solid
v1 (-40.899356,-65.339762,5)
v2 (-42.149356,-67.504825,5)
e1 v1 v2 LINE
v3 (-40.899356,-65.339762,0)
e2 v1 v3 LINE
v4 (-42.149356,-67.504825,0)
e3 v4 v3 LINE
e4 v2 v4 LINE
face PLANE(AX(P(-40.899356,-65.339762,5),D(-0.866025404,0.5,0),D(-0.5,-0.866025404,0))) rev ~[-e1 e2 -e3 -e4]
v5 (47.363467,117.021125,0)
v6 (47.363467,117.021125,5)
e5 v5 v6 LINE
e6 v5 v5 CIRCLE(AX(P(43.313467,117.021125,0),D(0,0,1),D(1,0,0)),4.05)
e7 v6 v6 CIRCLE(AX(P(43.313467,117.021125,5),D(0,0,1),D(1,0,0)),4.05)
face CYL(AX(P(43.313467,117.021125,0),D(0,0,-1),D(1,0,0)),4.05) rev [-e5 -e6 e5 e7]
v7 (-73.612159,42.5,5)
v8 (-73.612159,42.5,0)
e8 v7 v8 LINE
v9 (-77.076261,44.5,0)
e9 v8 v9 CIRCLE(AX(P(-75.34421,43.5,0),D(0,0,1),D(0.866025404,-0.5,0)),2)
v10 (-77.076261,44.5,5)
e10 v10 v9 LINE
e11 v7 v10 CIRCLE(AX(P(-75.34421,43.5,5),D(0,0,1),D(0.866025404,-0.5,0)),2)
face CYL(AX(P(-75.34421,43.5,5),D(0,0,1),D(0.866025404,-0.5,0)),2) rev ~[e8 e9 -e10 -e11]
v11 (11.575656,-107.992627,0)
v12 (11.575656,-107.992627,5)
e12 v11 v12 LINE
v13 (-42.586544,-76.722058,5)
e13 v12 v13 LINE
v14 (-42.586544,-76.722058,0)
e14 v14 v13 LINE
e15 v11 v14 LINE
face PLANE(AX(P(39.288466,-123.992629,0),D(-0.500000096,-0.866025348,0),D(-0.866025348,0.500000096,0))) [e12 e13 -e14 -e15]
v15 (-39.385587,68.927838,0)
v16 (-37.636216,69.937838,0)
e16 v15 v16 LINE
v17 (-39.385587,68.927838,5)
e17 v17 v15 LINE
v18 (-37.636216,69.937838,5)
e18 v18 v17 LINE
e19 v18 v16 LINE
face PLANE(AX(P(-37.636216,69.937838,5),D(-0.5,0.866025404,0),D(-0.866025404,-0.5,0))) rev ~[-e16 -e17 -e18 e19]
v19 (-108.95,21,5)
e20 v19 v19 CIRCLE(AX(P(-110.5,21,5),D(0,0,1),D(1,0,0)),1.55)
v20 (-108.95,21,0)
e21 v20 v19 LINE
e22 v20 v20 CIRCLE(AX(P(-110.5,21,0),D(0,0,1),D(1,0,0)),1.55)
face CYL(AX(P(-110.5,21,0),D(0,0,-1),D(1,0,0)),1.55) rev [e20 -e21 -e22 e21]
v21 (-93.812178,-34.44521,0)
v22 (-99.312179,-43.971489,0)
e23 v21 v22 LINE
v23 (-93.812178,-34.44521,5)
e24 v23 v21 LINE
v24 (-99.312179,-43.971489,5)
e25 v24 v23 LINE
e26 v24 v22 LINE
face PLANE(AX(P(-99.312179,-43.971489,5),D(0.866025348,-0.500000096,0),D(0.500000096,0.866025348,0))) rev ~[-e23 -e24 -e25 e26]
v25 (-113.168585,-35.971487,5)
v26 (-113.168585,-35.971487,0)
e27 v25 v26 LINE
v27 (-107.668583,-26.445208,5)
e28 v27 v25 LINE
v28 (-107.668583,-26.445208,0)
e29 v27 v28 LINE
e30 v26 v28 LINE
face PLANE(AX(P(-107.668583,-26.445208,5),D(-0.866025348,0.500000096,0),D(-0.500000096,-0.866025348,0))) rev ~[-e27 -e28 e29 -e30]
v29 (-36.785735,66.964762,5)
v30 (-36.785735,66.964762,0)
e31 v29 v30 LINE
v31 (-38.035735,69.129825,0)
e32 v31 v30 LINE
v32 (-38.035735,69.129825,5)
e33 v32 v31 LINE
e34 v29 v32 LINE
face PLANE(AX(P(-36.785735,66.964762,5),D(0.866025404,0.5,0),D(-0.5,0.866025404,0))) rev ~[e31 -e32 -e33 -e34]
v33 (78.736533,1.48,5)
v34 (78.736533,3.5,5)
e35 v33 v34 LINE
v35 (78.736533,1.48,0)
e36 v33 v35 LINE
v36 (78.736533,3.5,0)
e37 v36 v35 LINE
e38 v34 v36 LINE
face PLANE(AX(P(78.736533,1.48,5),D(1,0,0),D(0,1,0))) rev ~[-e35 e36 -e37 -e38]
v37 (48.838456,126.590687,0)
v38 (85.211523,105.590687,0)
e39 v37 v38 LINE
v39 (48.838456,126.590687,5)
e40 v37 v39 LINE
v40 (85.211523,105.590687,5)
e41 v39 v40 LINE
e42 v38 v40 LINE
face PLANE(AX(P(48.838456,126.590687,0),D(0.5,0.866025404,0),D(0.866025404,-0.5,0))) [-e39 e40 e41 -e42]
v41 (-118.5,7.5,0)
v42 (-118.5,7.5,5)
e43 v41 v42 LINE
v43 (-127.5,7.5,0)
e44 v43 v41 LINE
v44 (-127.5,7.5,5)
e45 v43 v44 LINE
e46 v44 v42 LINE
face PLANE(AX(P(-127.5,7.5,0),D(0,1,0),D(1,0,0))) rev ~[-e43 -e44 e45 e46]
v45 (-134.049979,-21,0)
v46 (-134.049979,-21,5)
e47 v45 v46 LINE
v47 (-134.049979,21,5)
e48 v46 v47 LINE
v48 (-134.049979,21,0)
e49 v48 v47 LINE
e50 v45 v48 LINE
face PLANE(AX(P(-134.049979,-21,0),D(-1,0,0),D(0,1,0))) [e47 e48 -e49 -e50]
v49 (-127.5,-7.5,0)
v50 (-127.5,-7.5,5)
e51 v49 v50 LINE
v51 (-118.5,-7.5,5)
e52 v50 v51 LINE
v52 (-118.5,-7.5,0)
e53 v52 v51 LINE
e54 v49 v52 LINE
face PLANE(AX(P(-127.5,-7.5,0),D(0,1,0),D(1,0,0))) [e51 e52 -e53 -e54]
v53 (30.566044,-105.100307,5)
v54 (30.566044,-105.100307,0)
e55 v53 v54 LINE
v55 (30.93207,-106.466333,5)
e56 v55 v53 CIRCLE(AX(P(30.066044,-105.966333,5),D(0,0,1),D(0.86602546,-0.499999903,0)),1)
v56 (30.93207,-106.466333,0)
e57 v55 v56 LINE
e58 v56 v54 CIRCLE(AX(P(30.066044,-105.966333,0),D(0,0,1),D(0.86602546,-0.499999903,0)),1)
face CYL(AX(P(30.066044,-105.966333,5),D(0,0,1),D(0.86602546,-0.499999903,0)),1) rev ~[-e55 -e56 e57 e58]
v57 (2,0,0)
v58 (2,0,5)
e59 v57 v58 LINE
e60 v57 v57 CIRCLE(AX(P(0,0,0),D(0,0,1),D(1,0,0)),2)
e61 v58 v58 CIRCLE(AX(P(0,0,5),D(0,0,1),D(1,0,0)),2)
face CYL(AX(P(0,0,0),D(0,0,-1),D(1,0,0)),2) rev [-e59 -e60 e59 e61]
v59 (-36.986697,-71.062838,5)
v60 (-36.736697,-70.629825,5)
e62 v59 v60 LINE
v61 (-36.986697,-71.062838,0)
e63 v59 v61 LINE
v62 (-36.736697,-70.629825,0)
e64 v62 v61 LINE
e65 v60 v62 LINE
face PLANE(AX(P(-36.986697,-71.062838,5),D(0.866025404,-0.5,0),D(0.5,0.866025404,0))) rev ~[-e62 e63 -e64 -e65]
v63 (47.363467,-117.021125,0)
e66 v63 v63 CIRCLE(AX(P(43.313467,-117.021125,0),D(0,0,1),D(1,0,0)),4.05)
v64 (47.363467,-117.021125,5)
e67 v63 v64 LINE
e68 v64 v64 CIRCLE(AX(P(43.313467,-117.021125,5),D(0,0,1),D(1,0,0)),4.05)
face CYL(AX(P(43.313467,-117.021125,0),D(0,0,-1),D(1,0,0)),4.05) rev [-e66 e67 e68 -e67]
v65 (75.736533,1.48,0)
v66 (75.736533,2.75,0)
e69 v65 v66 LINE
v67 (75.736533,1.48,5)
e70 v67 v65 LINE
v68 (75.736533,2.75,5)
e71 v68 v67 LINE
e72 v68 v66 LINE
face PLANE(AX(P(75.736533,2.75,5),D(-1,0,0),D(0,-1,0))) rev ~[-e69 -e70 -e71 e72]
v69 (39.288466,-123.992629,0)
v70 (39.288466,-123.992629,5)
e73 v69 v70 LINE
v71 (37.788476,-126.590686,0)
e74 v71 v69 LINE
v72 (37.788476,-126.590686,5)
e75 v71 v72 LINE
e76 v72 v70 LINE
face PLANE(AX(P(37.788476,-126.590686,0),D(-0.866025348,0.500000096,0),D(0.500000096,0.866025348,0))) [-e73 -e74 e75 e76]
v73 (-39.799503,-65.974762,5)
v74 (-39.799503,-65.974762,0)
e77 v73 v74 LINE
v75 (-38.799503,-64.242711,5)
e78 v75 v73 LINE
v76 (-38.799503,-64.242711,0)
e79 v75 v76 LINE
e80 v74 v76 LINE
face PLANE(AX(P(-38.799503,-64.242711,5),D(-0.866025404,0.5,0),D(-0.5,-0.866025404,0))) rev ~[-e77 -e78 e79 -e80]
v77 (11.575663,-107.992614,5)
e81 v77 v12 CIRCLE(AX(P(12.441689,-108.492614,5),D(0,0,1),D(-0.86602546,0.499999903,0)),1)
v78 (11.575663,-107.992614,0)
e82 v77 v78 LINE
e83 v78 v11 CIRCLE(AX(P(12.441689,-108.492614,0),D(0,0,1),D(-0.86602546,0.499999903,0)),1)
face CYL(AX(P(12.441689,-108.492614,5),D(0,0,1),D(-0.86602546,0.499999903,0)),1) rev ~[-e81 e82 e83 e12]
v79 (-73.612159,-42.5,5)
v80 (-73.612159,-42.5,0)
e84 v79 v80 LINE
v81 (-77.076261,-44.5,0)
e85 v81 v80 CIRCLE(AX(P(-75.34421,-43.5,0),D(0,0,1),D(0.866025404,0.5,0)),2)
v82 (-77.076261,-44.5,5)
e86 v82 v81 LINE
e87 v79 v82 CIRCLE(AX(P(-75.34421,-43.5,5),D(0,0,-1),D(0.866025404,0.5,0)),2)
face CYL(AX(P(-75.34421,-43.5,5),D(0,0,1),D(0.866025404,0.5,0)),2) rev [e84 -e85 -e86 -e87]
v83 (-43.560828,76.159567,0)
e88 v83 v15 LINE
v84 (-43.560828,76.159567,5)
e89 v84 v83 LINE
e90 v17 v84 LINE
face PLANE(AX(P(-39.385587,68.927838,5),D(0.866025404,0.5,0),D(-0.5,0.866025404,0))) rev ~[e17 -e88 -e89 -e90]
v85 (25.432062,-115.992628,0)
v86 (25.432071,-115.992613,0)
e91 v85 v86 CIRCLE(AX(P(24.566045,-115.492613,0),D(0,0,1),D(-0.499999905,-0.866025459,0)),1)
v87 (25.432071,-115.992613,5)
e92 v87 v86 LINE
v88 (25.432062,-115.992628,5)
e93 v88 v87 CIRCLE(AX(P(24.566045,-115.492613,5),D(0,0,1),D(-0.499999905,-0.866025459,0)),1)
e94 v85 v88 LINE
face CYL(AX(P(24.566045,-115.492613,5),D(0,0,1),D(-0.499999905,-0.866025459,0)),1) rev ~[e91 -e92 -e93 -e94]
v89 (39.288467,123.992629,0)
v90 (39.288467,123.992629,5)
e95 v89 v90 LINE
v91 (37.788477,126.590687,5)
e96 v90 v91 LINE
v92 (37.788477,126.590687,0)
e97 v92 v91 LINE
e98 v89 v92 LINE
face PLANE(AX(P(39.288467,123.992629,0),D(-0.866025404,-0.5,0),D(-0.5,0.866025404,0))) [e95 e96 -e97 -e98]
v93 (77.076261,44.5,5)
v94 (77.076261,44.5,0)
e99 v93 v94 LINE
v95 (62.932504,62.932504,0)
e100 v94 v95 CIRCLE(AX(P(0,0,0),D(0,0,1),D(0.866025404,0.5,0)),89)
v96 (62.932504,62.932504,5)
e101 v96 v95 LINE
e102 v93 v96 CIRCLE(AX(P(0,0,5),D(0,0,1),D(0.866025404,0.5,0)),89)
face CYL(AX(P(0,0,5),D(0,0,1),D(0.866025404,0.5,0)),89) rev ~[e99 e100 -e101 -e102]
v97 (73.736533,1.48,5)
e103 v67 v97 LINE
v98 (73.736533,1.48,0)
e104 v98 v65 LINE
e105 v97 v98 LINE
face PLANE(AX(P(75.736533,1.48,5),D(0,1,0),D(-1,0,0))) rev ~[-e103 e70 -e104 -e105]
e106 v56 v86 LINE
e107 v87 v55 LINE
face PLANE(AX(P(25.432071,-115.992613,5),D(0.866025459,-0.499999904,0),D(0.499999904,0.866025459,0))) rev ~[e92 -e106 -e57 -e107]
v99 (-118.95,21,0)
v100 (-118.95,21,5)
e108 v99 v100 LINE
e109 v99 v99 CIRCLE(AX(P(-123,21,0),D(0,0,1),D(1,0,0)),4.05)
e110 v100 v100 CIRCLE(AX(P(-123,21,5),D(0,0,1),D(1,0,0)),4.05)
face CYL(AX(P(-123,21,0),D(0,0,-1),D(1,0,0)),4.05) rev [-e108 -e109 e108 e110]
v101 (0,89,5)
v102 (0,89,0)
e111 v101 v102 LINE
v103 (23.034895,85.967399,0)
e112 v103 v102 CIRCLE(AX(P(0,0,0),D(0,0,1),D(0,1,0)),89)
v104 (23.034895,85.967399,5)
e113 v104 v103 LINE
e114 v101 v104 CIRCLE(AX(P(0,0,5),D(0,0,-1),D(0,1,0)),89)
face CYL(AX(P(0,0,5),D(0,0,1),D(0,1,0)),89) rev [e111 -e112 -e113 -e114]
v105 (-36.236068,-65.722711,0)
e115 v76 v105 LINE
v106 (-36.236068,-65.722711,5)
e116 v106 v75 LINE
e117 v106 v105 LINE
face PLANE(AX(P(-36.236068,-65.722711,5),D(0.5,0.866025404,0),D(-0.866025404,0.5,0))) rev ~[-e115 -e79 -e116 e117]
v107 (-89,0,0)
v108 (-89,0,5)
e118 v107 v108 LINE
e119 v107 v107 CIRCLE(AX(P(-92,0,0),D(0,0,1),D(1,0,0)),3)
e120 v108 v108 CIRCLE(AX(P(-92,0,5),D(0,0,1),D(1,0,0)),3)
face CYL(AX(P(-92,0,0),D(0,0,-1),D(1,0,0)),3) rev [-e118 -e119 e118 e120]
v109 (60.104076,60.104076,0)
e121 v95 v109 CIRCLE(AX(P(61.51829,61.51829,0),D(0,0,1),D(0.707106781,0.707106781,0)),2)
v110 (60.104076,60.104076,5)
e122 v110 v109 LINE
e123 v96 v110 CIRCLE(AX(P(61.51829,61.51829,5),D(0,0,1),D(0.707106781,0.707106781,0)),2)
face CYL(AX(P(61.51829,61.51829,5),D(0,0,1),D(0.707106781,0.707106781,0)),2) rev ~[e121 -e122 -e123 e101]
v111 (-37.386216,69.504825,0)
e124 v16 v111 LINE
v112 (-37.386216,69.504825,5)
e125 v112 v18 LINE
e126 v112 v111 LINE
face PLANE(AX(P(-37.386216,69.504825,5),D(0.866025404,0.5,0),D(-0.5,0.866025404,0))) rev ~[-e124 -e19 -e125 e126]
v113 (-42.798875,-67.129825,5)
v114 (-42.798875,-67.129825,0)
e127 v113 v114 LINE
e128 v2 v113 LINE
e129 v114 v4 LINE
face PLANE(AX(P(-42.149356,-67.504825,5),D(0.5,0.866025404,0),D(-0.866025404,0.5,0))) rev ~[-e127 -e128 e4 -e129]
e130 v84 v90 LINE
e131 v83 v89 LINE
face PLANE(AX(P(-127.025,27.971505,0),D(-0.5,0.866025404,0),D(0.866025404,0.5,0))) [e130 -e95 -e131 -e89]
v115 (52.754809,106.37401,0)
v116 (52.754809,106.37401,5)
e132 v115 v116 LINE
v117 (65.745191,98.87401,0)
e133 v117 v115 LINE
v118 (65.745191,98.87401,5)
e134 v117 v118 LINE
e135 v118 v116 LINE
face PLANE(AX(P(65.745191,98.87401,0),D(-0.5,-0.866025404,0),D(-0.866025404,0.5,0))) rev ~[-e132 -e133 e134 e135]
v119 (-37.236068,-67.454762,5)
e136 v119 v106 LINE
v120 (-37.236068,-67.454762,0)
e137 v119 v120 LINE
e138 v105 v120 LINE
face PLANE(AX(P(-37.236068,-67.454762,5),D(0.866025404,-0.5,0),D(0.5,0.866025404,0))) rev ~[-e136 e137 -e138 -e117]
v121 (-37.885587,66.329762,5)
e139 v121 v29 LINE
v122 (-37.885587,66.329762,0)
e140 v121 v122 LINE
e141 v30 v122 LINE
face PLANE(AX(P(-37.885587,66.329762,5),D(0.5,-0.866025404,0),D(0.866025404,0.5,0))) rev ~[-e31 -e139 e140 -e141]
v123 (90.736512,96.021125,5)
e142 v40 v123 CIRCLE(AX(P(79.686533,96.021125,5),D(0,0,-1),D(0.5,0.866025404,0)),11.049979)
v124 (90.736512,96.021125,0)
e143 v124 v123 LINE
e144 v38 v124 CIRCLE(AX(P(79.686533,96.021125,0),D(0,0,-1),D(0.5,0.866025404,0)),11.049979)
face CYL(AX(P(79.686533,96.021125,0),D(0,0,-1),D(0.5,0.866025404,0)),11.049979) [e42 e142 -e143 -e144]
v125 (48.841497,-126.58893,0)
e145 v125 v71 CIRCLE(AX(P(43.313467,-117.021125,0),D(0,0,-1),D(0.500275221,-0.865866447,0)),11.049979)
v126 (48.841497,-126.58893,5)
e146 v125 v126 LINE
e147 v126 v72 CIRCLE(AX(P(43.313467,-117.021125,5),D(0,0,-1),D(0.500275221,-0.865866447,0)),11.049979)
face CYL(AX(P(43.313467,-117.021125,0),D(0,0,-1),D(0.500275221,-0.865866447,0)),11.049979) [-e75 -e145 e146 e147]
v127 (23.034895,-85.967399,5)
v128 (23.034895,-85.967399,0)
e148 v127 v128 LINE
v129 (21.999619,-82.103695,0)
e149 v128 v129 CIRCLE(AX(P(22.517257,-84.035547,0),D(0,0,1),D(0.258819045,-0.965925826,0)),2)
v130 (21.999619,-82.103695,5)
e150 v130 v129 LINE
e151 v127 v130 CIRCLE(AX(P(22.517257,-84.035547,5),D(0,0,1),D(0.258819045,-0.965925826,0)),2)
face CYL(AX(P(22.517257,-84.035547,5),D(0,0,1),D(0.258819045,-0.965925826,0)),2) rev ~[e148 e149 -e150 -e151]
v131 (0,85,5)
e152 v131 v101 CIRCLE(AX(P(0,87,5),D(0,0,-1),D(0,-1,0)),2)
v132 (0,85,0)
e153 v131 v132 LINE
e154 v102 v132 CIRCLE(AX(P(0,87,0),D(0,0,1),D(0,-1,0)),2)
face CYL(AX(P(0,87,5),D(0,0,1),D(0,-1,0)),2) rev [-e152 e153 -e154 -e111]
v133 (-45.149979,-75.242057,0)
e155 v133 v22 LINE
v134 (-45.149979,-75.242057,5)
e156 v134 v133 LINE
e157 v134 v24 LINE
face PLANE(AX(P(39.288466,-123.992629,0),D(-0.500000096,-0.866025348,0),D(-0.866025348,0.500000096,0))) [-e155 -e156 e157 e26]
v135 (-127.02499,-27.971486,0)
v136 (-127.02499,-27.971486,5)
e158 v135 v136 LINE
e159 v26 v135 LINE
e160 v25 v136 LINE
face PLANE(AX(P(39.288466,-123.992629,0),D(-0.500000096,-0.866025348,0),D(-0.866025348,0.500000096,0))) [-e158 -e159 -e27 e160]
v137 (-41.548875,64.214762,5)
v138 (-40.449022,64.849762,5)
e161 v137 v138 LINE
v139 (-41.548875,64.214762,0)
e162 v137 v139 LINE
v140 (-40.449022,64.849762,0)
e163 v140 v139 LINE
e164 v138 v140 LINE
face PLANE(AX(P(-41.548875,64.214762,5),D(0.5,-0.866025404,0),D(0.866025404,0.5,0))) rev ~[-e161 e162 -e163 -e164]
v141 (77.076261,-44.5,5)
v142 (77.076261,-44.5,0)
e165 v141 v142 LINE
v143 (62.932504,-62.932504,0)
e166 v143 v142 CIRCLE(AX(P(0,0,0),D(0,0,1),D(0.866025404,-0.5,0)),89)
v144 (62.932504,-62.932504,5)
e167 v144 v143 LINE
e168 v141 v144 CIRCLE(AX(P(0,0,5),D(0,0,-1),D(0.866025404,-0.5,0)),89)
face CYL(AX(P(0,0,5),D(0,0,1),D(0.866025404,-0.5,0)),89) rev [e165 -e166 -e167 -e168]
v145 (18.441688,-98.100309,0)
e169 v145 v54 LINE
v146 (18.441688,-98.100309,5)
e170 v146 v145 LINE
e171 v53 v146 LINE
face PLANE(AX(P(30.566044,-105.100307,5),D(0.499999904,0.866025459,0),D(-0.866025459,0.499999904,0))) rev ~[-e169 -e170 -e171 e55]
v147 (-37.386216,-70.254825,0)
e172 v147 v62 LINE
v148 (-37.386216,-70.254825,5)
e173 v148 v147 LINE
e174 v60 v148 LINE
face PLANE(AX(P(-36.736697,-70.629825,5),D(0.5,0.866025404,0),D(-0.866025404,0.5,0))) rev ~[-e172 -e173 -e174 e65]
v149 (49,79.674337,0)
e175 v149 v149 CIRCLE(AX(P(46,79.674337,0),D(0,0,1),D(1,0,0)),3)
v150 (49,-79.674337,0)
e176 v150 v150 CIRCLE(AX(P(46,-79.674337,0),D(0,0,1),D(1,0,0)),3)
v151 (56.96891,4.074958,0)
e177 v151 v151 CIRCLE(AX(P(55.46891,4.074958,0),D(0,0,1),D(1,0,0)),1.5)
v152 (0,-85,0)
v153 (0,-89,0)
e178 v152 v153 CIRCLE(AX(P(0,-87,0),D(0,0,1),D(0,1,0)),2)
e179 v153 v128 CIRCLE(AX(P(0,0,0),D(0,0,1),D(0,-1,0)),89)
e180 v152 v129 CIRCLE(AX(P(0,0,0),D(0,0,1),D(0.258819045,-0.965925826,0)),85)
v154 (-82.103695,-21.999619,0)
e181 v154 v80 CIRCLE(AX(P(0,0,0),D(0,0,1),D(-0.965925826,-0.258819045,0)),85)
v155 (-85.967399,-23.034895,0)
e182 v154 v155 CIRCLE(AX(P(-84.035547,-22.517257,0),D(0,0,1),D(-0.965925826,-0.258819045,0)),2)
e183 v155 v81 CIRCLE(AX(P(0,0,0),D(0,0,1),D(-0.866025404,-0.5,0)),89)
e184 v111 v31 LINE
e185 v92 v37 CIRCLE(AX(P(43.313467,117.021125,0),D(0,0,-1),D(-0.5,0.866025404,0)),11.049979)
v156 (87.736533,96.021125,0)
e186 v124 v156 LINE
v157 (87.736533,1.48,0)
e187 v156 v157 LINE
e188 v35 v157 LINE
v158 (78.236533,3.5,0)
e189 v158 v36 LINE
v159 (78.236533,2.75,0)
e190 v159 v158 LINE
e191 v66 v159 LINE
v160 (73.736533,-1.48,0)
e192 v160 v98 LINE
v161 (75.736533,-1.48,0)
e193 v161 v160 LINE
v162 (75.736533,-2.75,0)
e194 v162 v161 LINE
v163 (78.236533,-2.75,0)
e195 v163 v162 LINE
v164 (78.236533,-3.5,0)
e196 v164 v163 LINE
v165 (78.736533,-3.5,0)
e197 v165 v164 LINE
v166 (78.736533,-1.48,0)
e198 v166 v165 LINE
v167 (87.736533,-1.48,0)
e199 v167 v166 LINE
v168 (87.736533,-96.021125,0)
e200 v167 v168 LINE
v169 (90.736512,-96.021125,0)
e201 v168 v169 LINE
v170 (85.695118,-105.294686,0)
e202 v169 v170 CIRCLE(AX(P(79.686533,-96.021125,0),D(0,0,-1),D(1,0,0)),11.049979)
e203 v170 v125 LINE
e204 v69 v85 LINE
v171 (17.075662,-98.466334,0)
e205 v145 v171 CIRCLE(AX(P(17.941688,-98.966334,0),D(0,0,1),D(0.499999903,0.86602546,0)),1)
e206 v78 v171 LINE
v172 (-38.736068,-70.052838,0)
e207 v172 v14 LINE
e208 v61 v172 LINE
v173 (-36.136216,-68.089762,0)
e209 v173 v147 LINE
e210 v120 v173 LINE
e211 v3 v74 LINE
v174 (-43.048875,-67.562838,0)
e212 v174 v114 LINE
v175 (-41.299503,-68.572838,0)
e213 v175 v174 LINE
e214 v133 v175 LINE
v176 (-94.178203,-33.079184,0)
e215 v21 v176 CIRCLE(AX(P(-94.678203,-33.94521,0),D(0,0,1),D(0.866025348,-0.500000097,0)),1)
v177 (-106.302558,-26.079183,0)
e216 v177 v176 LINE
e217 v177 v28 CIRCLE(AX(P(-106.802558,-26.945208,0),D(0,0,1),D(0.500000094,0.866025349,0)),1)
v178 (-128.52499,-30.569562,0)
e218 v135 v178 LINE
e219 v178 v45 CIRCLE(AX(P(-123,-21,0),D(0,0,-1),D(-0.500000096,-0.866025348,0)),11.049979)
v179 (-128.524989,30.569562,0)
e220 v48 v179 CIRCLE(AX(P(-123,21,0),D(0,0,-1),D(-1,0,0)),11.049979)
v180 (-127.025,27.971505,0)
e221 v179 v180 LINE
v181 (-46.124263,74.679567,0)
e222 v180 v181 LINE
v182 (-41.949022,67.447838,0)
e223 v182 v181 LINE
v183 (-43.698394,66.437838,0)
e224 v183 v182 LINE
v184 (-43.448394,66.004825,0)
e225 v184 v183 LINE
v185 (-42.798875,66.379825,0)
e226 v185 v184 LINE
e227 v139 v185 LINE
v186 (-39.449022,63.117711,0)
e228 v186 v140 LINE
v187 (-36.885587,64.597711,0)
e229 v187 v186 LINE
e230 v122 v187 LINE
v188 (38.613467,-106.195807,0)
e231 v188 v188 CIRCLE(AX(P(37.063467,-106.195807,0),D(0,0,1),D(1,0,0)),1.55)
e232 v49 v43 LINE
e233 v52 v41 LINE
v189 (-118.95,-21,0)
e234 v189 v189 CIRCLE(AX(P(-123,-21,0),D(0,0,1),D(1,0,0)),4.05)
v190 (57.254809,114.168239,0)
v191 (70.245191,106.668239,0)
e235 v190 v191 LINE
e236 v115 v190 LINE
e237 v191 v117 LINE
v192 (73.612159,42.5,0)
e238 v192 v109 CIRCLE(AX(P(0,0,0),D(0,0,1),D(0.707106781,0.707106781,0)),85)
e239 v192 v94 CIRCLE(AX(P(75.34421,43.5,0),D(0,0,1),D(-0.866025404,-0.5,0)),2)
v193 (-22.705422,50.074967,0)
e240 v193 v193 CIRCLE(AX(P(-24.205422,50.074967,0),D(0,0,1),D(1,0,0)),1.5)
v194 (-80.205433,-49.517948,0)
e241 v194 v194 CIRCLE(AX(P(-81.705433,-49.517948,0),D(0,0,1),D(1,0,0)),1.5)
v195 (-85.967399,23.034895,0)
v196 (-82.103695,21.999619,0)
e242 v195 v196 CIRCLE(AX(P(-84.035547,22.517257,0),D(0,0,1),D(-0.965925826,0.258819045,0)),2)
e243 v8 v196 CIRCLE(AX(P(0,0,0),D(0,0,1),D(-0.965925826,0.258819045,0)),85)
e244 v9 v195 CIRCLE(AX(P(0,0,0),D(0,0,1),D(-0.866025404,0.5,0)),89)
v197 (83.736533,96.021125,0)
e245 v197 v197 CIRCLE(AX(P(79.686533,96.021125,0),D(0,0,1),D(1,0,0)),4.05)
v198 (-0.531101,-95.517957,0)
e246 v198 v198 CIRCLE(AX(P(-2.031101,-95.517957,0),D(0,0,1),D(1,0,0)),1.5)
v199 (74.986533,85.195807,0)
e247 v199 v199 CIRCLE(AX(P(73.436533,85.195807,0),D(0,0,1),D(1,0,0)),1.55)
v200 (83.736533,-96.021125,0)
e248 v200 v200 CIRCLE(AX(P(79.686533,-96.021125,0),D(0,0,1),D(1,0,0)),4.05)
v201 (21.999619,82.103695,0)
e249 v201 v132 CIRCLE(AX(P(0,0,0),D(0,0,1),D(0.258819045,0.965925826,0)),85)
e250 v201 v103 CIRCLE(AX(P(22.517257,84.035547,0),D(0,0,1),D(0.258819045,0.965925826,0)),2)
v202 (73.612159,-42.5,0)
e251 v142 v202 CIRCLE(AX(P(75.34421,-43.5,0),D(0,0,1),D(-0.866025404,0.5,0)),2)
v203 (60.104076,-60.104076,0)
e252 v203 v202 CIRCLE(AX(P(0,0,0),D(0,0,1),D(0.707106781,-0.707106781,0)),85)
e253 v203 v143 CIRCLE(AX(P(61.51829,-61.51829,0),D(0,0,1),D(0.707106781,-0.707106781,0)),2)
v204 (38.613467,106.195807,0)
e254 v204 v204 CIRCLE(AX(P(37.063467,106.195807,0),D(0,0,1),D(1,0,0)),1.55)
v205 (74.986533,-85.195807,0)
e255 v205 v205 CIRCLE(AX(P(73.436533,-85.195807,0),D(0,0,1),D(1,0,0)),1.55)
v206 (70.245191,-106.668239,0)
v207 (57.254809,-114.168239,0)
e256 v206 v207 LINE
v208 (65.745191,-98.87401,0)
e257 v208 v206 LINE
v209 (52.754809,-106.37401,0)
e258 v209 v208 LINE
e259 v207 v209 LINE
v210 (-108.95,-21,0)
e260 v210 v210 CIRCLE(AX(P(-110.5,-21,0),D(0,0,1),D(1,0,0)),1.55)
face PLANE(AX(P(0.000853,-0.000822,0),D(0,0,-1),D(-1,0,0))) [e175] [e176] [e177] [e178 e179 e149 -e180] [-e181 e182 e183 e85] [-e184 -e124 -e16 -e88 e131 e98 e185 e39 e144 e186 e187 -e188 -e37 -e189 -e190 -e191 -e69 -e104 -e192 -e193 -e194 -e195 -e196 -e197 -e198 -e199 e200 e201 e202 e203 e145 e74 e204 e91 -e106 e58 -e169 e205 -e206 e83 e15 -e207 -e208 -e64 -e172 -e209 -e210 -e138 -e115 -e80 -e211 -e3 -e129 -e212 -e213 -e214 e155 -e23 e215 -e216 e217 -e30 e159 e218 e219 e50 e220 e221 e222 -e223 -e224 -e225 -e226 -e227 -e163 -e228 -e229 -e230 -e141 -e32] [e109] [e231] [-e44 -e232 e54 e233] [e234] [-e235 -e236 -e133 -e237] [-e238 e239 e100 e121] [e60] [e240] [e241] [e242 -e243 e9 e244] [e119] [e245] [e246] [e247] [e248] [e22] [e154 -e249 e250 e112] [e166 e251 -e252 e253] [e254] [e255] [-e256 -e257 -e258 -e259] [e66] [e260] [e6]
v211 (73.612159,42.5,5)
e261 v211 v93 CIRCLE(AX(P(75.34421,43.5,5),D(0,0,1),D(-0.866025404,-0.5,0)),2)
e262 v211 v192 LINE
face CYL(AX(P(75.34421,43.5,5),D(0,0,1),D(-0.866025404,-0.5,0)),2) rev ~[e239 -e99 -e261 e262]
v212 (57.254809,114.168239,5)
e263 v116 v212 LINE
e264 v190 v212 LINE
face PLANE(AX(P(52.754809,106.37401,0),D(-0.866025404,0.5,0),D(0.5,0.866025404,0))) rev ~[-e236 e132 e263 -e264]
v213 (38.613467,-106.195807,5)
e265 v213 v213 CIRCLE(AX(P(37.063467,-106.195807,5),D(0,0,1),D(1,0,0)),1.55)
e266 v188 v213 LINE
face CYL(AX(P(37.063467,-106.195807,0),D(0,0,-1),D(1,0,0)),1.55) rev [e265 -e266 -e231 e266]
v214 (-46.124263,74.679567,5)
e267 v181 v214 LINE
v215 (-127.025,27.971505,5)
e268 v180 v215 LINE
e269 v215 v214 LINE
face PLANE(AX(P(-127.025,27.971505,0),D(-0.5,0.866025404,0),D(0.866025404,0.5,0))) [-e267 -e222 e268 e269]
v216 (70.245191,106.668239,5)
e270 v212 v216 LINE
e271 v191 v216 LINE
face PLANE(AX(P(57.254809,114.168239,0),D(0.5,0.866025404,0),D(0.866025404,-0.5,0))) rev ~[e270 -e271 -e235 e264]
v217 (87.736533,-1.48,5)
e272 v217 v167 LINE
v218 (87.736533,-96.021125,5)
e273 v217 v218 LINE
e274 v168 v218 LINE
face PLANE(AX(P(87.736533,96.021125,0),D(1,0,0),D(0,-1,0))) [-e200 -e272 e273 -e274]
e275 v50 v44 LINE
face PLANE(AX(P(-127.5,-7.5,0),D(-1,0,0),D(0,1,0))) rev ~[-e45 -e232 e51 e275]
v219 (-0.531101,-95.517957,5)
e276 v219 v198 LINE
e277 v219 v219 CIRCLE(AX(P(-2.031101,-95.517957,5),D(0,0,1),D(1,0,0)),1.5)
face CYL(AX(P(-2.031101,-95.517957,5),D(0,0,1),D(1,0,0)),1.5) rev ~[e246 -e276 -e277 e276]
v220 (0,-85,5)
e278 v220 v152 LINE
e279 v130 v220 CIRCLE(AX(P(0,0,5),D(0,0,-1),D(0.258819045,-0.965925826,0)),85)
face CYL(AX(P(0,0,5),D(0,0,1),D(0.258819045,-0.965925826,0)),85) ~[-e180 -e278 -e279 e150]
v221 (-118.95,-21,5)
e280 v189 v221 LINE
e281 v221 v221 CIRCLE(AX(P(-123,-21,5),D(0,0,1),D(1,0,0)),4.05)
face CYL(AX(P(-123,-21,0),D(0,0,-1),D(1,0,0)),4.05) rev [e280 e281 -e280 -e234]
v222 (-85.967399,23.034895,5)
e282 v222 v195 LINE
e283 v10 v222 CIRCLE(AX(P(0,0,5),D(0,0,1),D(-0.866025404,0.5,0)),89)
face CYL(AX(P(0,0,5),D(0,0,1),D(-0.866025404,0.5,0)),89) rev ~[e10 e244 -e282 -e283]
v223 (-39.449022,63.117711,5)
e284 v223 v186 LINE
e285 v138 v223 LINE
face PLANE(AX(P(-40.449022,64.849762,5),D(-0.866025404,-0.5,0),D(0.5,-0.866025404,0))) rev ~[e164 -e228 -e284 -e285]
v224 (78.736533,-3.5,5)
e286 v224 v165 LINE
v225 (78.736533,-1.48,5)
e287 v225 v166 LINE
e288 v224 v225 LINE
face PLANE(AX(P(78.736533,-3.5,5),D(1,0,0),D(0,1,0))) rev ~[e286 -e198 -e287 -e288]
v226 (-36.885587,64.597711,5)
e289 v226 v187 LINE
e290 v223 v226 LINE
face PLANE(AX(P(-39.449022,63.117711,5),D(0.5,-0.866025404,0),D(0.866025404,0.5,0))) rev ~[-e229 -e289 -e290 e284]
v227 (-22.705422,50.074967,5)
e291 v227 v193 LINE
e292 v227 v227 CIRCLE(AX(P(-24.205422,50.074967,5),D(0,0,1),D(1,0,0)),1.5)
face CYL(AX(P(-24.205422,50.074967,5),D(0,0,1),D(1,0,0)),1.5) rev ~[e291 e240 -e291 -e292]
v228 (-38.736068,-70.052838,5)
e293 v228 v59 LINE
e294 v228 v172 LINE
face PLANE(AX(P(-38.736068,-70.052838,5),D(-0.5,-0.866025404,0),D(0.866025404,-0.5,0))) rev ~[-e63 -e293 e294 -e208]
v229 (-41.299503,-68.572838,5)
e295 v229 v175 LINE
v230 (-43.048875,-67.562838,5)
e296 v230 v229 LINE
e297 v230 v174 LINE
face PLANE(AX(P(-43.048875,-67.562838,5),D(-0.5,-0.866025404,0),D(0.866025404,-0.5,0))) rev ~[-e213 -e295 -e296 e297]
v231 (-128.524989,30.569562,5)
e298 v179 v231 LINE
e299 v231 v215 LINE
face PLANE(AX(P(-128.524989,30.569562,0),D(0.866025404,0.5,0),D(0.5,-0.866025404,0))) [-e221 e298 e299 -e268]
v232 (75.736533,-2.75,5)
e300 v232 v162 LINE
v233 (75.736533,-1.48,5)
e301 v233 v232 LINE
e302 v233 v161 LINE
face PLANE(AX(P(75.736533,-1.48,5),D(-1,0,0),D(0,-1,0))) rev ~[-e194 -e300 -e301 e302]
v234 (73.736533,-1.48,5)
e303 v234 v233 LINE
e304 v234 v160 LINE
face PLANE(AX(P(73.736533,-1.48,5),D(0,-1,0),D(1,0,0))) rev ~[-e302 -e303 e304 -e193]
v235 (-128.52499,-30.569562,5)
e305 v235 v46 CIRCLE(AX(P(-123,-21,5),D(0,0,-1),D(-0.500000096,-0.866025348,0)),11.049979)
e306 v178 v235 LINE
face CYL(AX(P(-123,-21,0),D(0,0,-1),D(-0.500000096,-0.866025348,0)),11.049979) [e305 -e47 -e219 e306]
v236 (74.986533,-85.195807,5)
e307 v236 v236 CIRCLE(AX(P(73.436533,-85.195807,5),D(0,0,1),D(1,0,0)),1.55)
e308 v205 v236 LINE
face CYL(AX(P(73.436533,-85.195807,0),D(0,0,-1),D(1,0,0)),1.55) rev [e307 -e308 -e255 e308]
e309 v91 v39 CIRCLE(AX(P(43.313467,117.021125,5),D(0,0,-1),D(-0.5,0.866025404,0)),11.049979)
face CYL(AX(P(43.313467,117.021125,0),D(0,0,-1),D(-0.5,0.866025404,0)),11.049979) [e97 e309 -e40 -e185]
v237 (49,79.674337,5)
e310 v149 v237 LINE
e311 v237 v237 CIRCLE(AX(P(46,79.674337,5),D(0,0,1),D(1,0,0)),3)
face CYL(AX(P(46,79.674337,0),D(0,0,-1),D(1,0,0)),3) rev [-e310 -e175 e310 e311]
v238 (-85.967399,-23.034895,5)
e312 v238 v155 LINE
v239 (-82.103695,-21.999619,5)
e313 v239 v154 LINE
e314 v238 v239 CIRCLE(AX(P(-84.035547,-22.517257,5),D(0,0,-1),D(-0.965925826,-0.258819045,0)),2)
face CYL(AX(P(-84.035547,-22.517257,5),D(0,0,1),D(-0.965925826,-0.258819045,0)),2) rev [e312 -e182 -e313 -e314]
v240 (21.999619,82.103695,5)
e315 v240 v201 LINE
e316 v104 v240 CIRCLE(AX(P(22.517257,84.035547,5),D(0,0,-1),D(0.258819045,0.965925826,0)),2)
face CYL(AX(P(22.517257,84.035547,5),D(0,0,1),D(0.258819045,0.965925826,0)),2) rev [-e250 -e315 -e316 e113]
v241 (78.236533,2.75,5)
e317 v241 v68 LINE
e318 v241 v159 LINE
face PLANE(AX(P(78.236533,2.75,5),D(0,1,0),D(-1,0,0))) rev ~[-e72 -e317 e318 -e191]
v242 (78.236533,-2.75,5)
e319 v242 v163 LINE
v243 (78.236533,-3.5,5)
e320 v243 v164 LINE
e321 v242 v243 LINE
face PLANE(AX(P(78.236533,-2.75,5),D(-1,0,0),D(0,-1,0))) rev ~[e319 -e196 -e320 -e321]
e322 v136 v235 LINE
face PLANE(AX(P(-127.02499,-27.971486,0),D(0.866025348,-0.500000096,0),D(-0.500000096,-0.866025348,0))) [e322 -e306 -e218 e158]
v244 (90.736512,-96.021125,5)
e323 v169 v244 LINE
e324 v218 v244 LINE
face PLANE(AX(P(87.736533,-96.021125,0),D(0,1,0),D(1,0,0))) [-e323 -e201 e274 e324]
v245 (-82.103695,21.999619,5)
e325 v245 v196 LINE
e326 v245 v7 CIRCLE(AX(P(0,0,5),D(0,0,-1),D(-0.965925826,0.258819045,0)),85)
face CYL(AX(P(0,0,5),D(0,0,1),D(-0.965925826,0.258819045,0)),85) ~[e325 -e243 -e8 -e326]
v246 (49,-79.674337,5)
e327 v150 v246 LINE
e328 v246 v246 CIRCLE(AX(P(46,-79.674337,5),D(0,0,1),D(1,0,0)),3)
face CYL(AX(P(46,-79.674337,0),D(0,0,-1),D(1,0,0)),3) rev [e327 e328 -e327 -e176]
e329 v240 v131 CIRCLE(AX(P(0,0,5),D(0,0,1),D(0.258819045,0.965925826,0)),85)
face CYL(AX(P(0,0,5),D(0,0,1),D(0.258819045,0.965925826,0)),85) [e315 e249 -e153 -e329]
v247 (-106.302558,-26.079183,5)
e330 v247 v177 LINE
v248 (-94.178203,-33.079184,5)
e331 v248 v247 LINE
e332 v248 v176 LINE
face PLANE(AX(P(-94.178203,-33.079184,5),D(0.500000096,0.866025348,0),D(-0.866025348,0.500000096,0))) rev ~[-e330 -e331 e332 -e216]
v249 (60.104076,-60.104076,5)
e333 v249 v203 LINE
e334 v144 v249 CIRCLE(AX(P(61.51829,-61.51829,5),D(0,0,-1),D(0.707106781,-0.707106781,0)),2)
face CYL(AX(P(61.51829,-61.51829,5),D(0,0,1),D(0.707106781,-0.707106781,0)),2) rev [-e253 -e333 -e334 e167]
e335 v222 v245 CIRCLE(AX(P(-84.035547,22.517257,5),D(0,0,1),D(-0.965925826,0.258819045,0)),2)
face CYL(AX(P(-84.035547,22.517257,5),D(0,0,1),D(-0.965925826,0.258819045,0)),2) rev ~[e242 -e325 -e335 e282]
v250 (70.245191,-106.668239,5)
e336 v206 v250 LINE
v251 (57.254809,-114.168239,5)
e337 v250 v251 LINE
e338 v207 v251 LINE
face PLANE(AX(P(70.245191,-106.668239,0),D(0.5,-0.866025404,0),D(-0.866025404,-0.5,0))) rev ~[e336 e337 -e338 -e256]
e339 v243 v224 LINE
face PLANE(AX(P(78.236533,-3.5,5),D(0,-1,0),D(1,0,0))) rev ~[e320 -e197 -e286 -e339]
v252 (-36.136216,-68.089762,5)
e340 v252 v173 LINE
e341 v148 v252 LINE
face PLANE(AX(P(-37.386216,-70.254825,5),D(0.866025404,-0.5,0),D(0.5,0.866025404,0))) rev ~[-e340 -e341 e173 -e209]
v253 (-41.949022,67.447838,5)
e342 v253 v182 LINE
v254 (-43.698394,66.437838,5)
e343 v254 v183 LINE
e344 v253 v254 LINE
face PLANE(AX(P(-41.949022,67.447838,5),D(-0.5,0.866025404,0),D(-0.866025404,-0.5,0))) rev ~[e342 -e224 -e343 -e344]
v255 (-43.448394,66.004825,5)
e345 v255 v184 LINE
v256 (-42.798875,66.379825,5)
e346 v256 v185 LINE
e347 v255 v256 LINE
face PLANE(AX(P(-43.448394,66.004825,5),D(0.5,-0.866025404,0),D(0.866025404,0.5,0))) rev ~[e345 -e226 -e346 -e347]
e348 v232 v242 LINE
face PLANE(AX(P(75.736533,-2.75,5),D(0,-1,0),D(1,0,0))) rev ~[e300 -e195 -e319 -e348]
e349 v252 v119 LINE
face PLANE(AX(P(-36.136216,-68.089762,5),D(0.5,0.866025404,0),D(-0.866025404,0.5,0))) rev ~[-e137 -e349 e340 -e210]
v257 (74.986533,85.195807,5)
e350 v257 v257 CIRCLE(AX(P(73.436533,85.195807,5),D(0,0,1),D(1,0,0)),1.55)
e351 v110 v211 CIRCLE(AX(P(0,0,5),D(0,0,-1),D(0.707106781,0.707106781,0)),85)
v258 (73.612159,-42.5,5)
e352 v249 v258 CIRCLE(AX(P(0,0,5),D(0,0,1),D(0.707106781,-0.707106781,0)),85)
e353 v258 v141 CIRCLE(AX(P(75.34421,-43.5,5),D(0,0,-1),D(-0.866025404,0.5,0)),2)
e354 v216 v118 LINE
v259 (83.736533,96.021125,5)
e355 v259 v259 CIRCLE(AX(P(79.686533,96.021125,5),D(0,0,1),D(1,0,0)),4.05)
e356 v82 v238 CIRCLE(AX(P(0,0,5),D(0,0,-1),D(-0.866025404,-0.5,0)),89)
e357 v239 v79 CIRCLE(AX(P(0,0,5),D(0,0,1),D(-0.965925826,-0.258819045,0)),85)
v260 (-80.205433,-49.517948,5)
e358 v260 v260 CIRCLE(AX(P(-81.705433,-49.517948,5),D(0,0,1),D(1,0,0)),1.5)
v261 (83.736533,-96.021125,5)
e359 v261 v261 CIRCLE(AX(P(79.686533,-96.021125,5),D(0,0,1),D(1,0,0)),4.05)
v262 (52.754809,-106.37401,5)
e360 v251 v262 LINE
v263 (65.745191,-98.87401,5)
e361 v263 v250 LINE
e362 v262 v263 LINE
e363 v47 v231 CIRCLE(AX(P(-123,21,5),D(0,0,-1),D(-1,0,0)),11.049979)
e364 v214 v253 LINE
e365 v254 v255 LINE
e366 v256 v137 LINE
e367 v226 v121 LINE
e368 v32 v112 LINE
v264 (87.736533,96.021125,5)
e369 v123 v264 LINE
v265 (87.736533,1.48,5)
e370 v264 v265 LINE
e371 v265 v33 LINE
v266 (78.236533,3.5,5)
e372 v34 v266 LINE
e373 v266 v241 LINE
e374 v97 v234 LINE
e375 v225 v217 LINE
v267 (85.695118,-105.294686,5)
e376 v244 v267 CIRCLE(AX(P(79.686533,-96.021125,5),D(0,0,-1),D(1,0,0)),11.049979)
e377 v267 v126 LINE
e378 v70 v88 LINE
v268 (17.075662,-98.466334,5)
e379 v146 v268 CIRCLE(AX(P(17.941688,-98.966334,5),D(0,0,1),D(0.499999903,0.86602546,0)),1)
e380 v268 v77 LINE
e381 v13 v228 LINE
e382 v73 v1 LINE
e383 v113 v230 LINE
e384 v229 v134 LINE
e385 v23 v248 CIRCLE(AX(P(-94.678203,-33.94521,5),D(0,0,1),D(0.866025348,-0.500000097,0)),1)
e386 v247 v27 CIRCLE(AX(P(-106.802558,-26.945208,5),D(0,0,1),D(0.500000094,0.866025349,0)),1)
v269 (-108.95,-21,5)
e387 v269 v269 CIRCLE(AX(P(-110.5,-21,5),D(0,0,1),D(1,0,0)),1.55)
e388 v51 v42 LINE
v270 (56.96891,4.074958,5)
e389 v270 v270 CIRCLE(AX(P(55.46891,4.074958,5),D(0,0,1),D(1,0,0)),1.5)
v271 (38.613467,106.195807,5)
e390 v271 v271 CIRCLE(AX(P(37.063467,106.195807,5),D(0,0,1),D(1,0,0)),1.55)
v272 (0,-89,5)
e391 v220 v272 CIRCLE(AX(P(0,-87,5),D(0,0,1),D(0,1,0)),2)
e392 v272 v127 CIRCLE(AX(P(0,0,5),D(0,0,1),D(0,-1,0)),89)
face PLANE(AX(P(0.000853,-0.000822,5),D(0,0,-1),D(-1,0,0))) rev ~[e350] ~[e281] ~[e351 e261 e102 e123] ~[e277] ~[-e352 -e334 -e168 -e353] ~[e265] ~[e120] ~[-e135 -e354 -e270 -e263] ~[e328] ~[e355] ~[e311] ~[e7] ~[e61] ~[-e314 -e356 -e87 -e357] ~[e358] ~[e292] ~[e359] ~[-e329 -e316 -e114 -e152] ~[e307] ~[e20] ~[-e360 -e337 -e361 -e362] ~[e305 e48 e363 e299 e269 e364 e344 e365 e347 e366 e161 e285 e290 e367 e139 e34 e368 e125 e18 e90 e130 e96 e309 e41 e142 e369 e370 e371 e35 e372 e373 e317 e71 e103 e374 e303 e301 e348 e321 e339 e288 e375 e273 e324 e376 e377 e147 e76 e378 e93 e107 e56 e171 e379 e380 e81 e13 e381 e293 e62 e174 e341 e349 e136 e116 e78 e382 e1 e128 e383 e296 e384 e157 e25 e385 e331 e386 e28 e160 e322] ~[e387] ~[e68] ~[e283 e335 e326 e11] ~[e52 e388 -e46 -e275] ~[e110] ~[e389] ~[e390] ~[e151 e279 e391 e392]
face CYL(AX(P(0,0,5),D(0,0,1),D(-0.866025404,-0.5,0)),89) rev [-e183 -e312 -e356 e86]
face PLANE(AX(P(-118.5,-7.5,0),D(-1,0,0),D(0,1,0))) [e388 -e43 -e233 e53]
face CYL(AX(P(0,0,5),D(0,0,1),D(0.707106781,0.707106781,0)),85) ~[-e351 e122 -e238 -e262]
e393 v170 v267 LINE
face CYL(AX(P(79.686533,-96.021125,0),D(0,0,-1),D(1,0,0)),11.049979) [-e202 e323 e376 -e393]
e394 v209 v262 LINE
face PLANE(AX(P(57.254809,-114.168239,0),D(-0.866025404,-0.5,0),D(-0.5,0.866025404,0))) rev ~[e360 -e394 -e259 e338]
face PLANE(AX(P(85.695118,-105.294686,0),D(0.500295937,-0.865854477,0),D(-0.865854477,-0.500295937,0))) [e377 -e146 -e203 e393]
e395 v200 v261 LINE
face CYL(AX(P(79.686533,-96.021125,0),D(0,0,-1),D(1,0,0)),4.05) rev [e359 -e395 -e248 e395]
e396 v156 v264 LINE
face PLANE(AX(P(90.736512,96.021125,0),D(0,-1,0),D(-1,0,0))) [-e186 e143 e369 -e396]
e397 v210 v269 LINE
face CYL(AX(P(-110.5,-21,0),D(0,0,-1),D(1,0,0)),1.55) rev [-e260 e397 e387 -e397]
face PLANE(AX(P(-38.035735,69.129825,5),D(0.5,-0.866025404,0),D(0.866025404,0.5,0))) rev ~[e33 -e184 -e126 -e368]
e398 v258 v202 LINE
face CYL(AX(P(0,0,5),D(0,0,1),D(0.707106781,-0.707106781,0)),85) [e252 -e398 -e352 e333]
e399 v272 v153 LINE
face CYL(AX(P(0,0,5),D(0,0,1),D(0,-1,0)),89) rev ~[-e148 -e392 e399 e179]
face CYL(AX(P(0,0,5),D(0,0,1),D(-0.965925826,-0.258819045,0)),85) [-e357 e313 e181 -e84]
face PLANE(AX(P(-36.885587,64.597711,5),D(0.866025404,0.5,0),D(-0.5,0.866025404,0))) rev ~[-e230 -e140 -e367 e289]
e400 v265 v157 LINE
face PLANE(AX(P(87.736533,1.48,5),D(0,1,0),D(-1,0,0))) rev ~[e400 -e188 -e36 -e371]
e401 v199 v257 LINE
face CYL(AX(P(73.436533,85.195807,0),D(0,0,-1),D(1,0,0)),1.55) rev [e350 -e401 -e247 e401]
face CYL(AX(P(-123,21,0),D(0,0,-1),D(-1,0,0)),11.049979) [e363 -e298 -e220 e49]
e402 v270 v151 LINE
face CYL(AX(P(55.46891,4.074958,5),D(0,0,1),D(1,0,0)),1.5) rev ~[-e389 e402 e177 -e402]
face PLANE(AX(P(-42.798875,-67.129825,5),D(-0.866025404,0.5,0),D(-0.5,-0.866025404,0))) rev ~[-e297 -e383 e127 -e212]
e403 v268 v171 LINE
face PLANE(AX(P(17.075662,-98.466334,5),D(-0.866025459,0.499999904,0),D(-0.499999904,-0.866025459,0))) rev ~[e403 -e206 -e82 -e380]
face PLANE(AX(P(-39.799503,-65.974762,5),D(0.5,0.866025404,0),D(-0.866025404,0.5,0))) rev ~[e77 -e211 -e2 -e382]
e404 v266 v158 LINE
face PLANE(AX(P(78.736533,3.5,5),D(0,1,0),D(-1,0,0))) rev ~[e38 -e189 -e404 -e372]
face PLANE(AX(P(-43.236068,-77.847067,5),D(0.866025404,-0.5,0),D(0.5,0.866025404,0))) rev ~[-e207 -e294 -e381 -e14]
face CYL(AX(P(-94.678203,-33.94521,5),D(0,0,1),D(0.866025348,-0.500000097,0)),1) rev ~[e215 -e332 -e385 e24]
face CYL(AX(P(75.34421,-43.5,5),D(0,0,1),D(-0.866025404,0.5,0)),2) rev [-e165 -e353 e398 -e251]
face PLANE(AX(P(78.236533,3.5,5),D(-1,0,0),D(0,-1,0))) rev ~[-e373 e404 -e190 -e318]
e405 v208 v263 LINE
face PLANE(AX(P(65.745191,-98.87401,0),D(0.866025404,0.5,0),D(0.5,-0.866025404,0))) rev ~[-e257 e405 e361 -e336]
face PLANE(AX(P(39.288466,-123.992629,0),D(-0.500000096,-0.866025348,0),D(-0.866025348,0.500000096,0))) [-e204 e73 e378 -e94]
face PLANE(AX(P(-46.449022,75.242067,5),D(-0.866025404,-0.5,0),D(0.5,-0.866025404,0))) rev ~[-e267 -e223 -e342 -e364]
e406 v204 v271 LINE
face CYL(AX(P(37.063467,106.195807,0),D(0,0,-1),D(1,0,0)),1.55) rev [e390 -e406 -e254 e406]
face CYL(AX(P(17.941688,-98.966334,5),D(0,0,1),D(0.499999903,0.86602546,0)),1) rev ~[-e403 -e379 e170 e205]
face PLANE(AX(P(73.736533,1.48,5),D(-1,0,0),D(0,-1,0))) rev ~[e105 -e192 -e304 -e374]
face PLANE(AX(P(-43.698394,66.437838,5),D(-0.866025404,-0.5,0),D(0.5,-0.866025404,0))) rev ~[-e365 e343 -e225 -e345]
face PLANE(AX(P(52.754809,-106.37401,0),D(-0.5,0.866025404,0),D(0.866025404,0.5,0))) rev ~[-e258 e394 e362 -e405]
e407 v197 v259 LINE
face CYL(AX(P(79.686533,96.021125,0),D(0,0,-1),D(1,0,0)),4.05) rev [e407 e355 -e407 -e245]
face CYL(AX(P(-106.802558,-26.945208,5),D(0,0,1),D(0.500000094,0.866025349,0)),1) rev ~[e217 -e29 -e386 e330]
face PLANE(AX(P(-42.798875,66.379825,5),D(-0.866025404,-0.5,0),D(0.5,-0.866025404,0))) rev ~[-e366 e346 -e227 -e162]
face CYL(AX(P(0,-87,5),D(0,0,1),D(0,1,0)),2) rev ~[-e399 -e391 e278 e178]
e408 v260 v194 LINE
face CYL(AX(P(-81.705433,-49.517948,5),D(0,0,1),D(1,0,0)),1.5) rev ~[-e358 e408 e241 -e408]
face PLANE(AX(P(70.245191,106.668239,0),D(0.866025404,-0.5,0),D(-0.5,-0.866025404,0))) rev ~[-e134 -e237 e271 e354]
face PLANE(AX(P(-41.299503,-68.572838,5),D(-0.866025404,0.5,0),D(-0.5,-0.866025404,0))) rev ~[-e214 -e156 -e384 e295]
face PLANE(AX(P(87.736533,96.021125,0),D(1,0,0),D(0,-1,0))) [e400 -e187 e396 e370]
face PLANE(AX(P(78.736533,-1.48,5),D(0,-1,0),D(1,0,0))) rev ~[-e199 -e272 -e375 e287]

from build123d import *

# Parameters (mm, degrees)
SKETCH1_R           = 4.05
SKETCH1_R_2         = 1.55
SKETCH1_R_3         = 2
SKETCH1_R_4         = 3
SKETCH1_W           = 9
SKETCH1_H           = 15
BOSS_EXTRUDE1_DEPTH = 5
CUT_EXTRUDE1_DEPTH  = 186.463215446
SKETCH3_R           = 1.5
CUT_EXTRUDE2_DEPTH  = 186.463215446
CUT_EXTRUDE4_DEPTH  = 186.463215446
CIRPATTERN1_COUNT   = 3


with BuildPart() as part:
    # Sketch1 → Boss-Extrude1 (new body)
    with BuildSketch(Plane.XY):
        with BuildLine():
            Line((-127.025, 27.9715045), (39.288466521, 123.992629166))
            Line((39.288466521, 123.992629166), (37.788477193, 126.590686893))
            ThreePointArc((37.788477193, 126.590686893), (43.313466521, 128.071103321), (48.838455849, 126.590686893))
            Line((48.838455849, 126.590686893), (85.211522807, 105.590686893))
            ThreePointArc((85.211522807, 105.590686893), (89.256095707, 101.546113993), (90.736512135, 96.021124665))
            Line((90.736512135, 96.021124665), (87.736533479, 96.021124665))
            Line((87.736533479, 96.021124665), (87.736533479, -96.021124665))
            Line((87.736533479, -96.021124665), (90.736512135, -96.021124665))
            ThreePointArc((90.736512135, -96.021124665), (89.394693991, -101.298780185), (85.695118183, -105.29468591))
            Line((85.695118183, -105.29468591), (48.841497032, -126.58893042))
            ThreePointArc((48.841497032, -126.58893042), (43.315221896, -128.071103182), (37.788476129, -126.590686279))
            Line((37.788476129, -126.590686279), (39.288465746, -123.992628719))
            Line((39.288465746, -123.992628719), (-127.024990103, -27.971485569))
            Line((-127.024990103, -27.971485569), (-128.524990392, -30.569561613))
            ThreePointArc((-128.524990392, -30.569561613), (-132.569562534, -26.524988796), (-134.049978656, -21))
            Line((-134.049978656, -21), (-134.049978656, 21))
            ThreePointArc((-134.049978656, 21), (-132.569562227, 26.524989328), (-128.524989328, 30.569562227))
            Line((-128.524989328, 30.569562227), (-127.025, 27.9715045))
        make_face()
        with Locations((-123, 21)):
            Circle(SKETCH1_R, mode=Mode.SUBTRACT)
        with Locations((-123, -21)):
            Circle(SKETCH1_R, mode=Mode.SUBTRACT)
        with Locations((43.313466521, 117.021124665)):
            Circle(SKETCH1_R, mode=Mode.SUBTRACT)
        with Locations((79.686533479, 96.021124665)):
            Circle(SKETCH1_R, mode=Mode.SUBTRACT)
        with Locations((79.686533479, -96.021124665)):
            Circle(SKETCH1_R, mode=Mode.SUBTRACT)
        with Locations((43.313466521, -117.021124665)):
            Circle(SKETCH1_R, mode=Mode.SUBTRACT)
        with Locations((-110.5, 21)):
            Circle(SKETCH1_R_2, mode=Mode.SUBTRACT)
        with Locations((-110.5, -21)):
            Circle(SKETCH1_R_2, mode=Mode.SUBTRACT)
        with Locations((73.436533479, 85.195807118)):
            Circle(SKETCH1_R_2, mode=Mode.SUBTRACT)
        with Locations((37.063466521, 106.195807118)):
            Circle(SKETCH1_R_2, mode=Mode.SUBTRACT)
        with Locations((37.063466521, -106.195807118)):
            Circle(SKETCH1_R_2, mode=Mode.SUBTRACT)
        with Locations((73.436533479, -85.195807118)):
            Circle(SKETCH1_R_2, mode=Mode.SUBTRACT)
        Circle(SKETCH1_R_3, mode=Mode.SUBTRACT)
        with Locations((-92, 0)):
            Circle(SKETCH1_R_4, mode=Mode.SUBTRACT)
        with Locations((46, 79.674337148)):
            Circle(SKETCH1_R_4, mode=Mode.SUBTRACT)
        with Locations((46, -79.674337148)):
            Circle(SKETCH1_R_4, mode=Mode.SUBTRACT)
        Polygon((70.245190528, 106.668238983), (65.745190528, 98.874010348), (52.754809472, 106.374010348), (57.254809472, 114.168238983), align=None, mode=Mode.SUBTRACT)
        with Locations((-123, 0)):
            Rectangle(SKETCH1_W, SKETCH1_H, mode=Mode.SUBTRACT)
        Polygon((57.254809472, -114.168238983), (52.754809472, -106.374010348), (65.745190528, -98.874010348), (70.245190528, -106.668238983), align=None, mode=Mode.SUBTRACT)
    extrude(amount=BOSS_EXTRUDE1_DEPTH)

    # Sketch2 → Cut-Extrude1 (cut, through all)
    with BuildSketch(Plane.XY.offset(5)):
        Polygon((87.736533479, 1.48), (78.736533479, 1.48), (78.736533479, 3.5), (78.236533479, 3.5), (78.236533479, 2.75), (75.736533479, 2.75), (75.736533479, 1.48), (73.736533479, 1.48), (73.736533479, -1.48), (75.736533479, -1.48), (75.736533479, -2.75), (78.236533479, -2.75), (78.236533479, -3.5), (78.736533479, -3.5), (78.736533479, -1.48), (87.736533479, -1.48), align=None)
        Polygon((-43.236068195, -77.847066833), (-38.736068195, -70.052838199), (-36.986696879, -71.062838199), (-36.736696879, -70.629825497), (-37.386215932, -70.254825497), (-36.136215932, -68.089761988), (-37.236068195, -67.454761988), (-36.236068195, -65.72271118), (-38.79950339, -64.24271118), (-39.79950339, -65.974761988), (-40.899355653, -65.339761988), (-42.149355653, -67.504825497), (-42.798874706, -67.129825497), (-43.048874706, -67.562838199), (-41.29950339, -68.572838199), (-45.79950339, -76.367066833), align=None)
        Polygon((-46.449022443, 75.242066833), (-41.949022443, 67.447838199), (-43.698393759, 66.437838199), (-43.448393759, 66.004825497), (-42.798874706, 66.379825497), (-41.548874706, 64.214761988), (-40.449022443, 64.849761988), (-39.449022443, 63.11771118), (-36.885587248, 64.59771118), (-37.885587248, 66.329761988), (-36.785734985, 66.964761988), (-38.035734985, 69.129825497), (-37.386215932, 69.504825497), (-37.636215932, 69.937838199), (-39.385587248, 68.927838199), (-43.885587248, 76.722066833), align=None)
    extrude(amount=-CUT_EXTRUDE1_DEPTH, mode=Mode.SUBTRACT)

    # Sketch3 → Cut-Extrude2 (cut, through all)
    with BuildSketch(Plane.XY.offset(5)):
        with Locations((-81.705432956, -49.517948353)):
            Circle(SKETCH3_R)
        with Locations((-2.03110092, -95.517957208)):
            Circle(SKETCH3_R)
        with Locations((55.468910149, 4.074957836)):
            Circle(SKETCH3_R)
        with Locations((-24.205421887, 50.074966692)):
            Circle(SKETCH3_R)
        with BuildLine():
            Line((-112.802559279, -37.337512553), (-100.678204404, -44.337513901))
            ThreePointArc((-100.678204404, -44.337513901), (-99.91938537, -44.437414408), (-99.31217896, -43.971488649))
            Line((-99.31217896, -43.971488649), (-93.812177901, -34.445209818))
            ThreePointArc((-93.812177901, -34.445209818), (-93.712277394, -33.686390784), (-94.178203153, -33.079184374))
            Line((-94.178203153, -33.079184374), (-106.302558028, -26.079183026))
            ThreePointArc((-106.302558028, -26.079183026), (-107.061377062, -25.97928252), (-107.668583473, -26.445208278))
            Line((-107.668583473, -26.445208278), (-113.168584531, -35.971487109))
            ThreePointArc((-113.168584531, -35.971487109), (-113.268485038, -36.730306143), (-112.802559279, -37.337512553))
        make_face()
        with BuildLine():
            Line((25.432070618, -115.992612669), (30.932069559, -106.466332616))
            ThreePointArc((30.932069559, -106.466332616), (31.031969897, -105.70751356), (30.566044003, -105.100307253))
            Line((30.566044003, -105.100307253), (18.441687572, -98.1003086))
            ThreePointArc((18.441687572, -98.1003086), (17.682868516, -98.000408262), (17.075662209, -98.466334156))
            Line((17.075662209, -98.466334156), (11.575663268, -107.992614209))
            ThreePointArc((11.575663268, -107.992614209), (11.47576293, -108.751433265), (11.941688824, -109.358639572))
            Line((11.941688824, -109.358639572), (24.066045255, -116.358638224))
            ThreePointArc((24.066045255, -116.358638224), (24.824864311, -116.458538563), (25.432070618, -115.992612669))
        make_face()
    extrude(amount=-CUT_EXTRUDE2_DEPTH, mode=Mode.SUBTRACT)

    # Sketch6 → Cut-Extrude4 (cut, through all)
    with BuildSketch(Plane.XY.offset(5)):
        with BuildLine():
            ThreePointArc((-77.076260937, 44.5), (-82.225278394, 34.05882548), (-85.96739854, 23.034895014))
            ThreePointArc((-85.96739854, 23.034895014), (-84.553184977, 20.585405271), (-82.103695235, 21.999618834))
            ThreePointArc((-82.103695235, 21.999618834), (-78.529760263, 32.528091751), (-73.612159322, 42.5))
            ThreePointArc((-73.612159322, 42.5), (-74.344210129, 45.232050808), (-77.076260937, 44.5))
        make_face()
        with BuildLine():
            ThreePointArc((-73.612159322, -42.5), (-74.344210129, -45.232050808), (-77.076260937, -44.5))
            ThreePointArc((-77.076260937, -44.5), (-82.225278394, -34.05882548), (-85.96739854, -23.034895014))
            ThreePointArc((-85.96739854, -23.034895014), (-84.553184977, -20.585405271), (-82.103695235, -21.999618834))
            ThreePointArc((-82.103695235, -21.999618834), (-78.529760263, -32.528091751), (-73.612159322, -42.5))
        make_face()
    cut_extrude4 = extrude(amount=-CUT_EXTRUDE4_DEPTH, mode=Mode.SUBTRACT)

    # CirPattern1: Cut-Extrude4 ×3 about axis
    cirpattern1_axis = Axis((0, 0, 5), (0, 0, -1))
    for i in range(1, CIRPATTERN1_COUNT):
        add(cut_extrude4.rotate(cirpattern1_axis, i * 360 / CIRPATTERN1_COUNT), mode=Mode.SUBTRACT)


solid = part.part
